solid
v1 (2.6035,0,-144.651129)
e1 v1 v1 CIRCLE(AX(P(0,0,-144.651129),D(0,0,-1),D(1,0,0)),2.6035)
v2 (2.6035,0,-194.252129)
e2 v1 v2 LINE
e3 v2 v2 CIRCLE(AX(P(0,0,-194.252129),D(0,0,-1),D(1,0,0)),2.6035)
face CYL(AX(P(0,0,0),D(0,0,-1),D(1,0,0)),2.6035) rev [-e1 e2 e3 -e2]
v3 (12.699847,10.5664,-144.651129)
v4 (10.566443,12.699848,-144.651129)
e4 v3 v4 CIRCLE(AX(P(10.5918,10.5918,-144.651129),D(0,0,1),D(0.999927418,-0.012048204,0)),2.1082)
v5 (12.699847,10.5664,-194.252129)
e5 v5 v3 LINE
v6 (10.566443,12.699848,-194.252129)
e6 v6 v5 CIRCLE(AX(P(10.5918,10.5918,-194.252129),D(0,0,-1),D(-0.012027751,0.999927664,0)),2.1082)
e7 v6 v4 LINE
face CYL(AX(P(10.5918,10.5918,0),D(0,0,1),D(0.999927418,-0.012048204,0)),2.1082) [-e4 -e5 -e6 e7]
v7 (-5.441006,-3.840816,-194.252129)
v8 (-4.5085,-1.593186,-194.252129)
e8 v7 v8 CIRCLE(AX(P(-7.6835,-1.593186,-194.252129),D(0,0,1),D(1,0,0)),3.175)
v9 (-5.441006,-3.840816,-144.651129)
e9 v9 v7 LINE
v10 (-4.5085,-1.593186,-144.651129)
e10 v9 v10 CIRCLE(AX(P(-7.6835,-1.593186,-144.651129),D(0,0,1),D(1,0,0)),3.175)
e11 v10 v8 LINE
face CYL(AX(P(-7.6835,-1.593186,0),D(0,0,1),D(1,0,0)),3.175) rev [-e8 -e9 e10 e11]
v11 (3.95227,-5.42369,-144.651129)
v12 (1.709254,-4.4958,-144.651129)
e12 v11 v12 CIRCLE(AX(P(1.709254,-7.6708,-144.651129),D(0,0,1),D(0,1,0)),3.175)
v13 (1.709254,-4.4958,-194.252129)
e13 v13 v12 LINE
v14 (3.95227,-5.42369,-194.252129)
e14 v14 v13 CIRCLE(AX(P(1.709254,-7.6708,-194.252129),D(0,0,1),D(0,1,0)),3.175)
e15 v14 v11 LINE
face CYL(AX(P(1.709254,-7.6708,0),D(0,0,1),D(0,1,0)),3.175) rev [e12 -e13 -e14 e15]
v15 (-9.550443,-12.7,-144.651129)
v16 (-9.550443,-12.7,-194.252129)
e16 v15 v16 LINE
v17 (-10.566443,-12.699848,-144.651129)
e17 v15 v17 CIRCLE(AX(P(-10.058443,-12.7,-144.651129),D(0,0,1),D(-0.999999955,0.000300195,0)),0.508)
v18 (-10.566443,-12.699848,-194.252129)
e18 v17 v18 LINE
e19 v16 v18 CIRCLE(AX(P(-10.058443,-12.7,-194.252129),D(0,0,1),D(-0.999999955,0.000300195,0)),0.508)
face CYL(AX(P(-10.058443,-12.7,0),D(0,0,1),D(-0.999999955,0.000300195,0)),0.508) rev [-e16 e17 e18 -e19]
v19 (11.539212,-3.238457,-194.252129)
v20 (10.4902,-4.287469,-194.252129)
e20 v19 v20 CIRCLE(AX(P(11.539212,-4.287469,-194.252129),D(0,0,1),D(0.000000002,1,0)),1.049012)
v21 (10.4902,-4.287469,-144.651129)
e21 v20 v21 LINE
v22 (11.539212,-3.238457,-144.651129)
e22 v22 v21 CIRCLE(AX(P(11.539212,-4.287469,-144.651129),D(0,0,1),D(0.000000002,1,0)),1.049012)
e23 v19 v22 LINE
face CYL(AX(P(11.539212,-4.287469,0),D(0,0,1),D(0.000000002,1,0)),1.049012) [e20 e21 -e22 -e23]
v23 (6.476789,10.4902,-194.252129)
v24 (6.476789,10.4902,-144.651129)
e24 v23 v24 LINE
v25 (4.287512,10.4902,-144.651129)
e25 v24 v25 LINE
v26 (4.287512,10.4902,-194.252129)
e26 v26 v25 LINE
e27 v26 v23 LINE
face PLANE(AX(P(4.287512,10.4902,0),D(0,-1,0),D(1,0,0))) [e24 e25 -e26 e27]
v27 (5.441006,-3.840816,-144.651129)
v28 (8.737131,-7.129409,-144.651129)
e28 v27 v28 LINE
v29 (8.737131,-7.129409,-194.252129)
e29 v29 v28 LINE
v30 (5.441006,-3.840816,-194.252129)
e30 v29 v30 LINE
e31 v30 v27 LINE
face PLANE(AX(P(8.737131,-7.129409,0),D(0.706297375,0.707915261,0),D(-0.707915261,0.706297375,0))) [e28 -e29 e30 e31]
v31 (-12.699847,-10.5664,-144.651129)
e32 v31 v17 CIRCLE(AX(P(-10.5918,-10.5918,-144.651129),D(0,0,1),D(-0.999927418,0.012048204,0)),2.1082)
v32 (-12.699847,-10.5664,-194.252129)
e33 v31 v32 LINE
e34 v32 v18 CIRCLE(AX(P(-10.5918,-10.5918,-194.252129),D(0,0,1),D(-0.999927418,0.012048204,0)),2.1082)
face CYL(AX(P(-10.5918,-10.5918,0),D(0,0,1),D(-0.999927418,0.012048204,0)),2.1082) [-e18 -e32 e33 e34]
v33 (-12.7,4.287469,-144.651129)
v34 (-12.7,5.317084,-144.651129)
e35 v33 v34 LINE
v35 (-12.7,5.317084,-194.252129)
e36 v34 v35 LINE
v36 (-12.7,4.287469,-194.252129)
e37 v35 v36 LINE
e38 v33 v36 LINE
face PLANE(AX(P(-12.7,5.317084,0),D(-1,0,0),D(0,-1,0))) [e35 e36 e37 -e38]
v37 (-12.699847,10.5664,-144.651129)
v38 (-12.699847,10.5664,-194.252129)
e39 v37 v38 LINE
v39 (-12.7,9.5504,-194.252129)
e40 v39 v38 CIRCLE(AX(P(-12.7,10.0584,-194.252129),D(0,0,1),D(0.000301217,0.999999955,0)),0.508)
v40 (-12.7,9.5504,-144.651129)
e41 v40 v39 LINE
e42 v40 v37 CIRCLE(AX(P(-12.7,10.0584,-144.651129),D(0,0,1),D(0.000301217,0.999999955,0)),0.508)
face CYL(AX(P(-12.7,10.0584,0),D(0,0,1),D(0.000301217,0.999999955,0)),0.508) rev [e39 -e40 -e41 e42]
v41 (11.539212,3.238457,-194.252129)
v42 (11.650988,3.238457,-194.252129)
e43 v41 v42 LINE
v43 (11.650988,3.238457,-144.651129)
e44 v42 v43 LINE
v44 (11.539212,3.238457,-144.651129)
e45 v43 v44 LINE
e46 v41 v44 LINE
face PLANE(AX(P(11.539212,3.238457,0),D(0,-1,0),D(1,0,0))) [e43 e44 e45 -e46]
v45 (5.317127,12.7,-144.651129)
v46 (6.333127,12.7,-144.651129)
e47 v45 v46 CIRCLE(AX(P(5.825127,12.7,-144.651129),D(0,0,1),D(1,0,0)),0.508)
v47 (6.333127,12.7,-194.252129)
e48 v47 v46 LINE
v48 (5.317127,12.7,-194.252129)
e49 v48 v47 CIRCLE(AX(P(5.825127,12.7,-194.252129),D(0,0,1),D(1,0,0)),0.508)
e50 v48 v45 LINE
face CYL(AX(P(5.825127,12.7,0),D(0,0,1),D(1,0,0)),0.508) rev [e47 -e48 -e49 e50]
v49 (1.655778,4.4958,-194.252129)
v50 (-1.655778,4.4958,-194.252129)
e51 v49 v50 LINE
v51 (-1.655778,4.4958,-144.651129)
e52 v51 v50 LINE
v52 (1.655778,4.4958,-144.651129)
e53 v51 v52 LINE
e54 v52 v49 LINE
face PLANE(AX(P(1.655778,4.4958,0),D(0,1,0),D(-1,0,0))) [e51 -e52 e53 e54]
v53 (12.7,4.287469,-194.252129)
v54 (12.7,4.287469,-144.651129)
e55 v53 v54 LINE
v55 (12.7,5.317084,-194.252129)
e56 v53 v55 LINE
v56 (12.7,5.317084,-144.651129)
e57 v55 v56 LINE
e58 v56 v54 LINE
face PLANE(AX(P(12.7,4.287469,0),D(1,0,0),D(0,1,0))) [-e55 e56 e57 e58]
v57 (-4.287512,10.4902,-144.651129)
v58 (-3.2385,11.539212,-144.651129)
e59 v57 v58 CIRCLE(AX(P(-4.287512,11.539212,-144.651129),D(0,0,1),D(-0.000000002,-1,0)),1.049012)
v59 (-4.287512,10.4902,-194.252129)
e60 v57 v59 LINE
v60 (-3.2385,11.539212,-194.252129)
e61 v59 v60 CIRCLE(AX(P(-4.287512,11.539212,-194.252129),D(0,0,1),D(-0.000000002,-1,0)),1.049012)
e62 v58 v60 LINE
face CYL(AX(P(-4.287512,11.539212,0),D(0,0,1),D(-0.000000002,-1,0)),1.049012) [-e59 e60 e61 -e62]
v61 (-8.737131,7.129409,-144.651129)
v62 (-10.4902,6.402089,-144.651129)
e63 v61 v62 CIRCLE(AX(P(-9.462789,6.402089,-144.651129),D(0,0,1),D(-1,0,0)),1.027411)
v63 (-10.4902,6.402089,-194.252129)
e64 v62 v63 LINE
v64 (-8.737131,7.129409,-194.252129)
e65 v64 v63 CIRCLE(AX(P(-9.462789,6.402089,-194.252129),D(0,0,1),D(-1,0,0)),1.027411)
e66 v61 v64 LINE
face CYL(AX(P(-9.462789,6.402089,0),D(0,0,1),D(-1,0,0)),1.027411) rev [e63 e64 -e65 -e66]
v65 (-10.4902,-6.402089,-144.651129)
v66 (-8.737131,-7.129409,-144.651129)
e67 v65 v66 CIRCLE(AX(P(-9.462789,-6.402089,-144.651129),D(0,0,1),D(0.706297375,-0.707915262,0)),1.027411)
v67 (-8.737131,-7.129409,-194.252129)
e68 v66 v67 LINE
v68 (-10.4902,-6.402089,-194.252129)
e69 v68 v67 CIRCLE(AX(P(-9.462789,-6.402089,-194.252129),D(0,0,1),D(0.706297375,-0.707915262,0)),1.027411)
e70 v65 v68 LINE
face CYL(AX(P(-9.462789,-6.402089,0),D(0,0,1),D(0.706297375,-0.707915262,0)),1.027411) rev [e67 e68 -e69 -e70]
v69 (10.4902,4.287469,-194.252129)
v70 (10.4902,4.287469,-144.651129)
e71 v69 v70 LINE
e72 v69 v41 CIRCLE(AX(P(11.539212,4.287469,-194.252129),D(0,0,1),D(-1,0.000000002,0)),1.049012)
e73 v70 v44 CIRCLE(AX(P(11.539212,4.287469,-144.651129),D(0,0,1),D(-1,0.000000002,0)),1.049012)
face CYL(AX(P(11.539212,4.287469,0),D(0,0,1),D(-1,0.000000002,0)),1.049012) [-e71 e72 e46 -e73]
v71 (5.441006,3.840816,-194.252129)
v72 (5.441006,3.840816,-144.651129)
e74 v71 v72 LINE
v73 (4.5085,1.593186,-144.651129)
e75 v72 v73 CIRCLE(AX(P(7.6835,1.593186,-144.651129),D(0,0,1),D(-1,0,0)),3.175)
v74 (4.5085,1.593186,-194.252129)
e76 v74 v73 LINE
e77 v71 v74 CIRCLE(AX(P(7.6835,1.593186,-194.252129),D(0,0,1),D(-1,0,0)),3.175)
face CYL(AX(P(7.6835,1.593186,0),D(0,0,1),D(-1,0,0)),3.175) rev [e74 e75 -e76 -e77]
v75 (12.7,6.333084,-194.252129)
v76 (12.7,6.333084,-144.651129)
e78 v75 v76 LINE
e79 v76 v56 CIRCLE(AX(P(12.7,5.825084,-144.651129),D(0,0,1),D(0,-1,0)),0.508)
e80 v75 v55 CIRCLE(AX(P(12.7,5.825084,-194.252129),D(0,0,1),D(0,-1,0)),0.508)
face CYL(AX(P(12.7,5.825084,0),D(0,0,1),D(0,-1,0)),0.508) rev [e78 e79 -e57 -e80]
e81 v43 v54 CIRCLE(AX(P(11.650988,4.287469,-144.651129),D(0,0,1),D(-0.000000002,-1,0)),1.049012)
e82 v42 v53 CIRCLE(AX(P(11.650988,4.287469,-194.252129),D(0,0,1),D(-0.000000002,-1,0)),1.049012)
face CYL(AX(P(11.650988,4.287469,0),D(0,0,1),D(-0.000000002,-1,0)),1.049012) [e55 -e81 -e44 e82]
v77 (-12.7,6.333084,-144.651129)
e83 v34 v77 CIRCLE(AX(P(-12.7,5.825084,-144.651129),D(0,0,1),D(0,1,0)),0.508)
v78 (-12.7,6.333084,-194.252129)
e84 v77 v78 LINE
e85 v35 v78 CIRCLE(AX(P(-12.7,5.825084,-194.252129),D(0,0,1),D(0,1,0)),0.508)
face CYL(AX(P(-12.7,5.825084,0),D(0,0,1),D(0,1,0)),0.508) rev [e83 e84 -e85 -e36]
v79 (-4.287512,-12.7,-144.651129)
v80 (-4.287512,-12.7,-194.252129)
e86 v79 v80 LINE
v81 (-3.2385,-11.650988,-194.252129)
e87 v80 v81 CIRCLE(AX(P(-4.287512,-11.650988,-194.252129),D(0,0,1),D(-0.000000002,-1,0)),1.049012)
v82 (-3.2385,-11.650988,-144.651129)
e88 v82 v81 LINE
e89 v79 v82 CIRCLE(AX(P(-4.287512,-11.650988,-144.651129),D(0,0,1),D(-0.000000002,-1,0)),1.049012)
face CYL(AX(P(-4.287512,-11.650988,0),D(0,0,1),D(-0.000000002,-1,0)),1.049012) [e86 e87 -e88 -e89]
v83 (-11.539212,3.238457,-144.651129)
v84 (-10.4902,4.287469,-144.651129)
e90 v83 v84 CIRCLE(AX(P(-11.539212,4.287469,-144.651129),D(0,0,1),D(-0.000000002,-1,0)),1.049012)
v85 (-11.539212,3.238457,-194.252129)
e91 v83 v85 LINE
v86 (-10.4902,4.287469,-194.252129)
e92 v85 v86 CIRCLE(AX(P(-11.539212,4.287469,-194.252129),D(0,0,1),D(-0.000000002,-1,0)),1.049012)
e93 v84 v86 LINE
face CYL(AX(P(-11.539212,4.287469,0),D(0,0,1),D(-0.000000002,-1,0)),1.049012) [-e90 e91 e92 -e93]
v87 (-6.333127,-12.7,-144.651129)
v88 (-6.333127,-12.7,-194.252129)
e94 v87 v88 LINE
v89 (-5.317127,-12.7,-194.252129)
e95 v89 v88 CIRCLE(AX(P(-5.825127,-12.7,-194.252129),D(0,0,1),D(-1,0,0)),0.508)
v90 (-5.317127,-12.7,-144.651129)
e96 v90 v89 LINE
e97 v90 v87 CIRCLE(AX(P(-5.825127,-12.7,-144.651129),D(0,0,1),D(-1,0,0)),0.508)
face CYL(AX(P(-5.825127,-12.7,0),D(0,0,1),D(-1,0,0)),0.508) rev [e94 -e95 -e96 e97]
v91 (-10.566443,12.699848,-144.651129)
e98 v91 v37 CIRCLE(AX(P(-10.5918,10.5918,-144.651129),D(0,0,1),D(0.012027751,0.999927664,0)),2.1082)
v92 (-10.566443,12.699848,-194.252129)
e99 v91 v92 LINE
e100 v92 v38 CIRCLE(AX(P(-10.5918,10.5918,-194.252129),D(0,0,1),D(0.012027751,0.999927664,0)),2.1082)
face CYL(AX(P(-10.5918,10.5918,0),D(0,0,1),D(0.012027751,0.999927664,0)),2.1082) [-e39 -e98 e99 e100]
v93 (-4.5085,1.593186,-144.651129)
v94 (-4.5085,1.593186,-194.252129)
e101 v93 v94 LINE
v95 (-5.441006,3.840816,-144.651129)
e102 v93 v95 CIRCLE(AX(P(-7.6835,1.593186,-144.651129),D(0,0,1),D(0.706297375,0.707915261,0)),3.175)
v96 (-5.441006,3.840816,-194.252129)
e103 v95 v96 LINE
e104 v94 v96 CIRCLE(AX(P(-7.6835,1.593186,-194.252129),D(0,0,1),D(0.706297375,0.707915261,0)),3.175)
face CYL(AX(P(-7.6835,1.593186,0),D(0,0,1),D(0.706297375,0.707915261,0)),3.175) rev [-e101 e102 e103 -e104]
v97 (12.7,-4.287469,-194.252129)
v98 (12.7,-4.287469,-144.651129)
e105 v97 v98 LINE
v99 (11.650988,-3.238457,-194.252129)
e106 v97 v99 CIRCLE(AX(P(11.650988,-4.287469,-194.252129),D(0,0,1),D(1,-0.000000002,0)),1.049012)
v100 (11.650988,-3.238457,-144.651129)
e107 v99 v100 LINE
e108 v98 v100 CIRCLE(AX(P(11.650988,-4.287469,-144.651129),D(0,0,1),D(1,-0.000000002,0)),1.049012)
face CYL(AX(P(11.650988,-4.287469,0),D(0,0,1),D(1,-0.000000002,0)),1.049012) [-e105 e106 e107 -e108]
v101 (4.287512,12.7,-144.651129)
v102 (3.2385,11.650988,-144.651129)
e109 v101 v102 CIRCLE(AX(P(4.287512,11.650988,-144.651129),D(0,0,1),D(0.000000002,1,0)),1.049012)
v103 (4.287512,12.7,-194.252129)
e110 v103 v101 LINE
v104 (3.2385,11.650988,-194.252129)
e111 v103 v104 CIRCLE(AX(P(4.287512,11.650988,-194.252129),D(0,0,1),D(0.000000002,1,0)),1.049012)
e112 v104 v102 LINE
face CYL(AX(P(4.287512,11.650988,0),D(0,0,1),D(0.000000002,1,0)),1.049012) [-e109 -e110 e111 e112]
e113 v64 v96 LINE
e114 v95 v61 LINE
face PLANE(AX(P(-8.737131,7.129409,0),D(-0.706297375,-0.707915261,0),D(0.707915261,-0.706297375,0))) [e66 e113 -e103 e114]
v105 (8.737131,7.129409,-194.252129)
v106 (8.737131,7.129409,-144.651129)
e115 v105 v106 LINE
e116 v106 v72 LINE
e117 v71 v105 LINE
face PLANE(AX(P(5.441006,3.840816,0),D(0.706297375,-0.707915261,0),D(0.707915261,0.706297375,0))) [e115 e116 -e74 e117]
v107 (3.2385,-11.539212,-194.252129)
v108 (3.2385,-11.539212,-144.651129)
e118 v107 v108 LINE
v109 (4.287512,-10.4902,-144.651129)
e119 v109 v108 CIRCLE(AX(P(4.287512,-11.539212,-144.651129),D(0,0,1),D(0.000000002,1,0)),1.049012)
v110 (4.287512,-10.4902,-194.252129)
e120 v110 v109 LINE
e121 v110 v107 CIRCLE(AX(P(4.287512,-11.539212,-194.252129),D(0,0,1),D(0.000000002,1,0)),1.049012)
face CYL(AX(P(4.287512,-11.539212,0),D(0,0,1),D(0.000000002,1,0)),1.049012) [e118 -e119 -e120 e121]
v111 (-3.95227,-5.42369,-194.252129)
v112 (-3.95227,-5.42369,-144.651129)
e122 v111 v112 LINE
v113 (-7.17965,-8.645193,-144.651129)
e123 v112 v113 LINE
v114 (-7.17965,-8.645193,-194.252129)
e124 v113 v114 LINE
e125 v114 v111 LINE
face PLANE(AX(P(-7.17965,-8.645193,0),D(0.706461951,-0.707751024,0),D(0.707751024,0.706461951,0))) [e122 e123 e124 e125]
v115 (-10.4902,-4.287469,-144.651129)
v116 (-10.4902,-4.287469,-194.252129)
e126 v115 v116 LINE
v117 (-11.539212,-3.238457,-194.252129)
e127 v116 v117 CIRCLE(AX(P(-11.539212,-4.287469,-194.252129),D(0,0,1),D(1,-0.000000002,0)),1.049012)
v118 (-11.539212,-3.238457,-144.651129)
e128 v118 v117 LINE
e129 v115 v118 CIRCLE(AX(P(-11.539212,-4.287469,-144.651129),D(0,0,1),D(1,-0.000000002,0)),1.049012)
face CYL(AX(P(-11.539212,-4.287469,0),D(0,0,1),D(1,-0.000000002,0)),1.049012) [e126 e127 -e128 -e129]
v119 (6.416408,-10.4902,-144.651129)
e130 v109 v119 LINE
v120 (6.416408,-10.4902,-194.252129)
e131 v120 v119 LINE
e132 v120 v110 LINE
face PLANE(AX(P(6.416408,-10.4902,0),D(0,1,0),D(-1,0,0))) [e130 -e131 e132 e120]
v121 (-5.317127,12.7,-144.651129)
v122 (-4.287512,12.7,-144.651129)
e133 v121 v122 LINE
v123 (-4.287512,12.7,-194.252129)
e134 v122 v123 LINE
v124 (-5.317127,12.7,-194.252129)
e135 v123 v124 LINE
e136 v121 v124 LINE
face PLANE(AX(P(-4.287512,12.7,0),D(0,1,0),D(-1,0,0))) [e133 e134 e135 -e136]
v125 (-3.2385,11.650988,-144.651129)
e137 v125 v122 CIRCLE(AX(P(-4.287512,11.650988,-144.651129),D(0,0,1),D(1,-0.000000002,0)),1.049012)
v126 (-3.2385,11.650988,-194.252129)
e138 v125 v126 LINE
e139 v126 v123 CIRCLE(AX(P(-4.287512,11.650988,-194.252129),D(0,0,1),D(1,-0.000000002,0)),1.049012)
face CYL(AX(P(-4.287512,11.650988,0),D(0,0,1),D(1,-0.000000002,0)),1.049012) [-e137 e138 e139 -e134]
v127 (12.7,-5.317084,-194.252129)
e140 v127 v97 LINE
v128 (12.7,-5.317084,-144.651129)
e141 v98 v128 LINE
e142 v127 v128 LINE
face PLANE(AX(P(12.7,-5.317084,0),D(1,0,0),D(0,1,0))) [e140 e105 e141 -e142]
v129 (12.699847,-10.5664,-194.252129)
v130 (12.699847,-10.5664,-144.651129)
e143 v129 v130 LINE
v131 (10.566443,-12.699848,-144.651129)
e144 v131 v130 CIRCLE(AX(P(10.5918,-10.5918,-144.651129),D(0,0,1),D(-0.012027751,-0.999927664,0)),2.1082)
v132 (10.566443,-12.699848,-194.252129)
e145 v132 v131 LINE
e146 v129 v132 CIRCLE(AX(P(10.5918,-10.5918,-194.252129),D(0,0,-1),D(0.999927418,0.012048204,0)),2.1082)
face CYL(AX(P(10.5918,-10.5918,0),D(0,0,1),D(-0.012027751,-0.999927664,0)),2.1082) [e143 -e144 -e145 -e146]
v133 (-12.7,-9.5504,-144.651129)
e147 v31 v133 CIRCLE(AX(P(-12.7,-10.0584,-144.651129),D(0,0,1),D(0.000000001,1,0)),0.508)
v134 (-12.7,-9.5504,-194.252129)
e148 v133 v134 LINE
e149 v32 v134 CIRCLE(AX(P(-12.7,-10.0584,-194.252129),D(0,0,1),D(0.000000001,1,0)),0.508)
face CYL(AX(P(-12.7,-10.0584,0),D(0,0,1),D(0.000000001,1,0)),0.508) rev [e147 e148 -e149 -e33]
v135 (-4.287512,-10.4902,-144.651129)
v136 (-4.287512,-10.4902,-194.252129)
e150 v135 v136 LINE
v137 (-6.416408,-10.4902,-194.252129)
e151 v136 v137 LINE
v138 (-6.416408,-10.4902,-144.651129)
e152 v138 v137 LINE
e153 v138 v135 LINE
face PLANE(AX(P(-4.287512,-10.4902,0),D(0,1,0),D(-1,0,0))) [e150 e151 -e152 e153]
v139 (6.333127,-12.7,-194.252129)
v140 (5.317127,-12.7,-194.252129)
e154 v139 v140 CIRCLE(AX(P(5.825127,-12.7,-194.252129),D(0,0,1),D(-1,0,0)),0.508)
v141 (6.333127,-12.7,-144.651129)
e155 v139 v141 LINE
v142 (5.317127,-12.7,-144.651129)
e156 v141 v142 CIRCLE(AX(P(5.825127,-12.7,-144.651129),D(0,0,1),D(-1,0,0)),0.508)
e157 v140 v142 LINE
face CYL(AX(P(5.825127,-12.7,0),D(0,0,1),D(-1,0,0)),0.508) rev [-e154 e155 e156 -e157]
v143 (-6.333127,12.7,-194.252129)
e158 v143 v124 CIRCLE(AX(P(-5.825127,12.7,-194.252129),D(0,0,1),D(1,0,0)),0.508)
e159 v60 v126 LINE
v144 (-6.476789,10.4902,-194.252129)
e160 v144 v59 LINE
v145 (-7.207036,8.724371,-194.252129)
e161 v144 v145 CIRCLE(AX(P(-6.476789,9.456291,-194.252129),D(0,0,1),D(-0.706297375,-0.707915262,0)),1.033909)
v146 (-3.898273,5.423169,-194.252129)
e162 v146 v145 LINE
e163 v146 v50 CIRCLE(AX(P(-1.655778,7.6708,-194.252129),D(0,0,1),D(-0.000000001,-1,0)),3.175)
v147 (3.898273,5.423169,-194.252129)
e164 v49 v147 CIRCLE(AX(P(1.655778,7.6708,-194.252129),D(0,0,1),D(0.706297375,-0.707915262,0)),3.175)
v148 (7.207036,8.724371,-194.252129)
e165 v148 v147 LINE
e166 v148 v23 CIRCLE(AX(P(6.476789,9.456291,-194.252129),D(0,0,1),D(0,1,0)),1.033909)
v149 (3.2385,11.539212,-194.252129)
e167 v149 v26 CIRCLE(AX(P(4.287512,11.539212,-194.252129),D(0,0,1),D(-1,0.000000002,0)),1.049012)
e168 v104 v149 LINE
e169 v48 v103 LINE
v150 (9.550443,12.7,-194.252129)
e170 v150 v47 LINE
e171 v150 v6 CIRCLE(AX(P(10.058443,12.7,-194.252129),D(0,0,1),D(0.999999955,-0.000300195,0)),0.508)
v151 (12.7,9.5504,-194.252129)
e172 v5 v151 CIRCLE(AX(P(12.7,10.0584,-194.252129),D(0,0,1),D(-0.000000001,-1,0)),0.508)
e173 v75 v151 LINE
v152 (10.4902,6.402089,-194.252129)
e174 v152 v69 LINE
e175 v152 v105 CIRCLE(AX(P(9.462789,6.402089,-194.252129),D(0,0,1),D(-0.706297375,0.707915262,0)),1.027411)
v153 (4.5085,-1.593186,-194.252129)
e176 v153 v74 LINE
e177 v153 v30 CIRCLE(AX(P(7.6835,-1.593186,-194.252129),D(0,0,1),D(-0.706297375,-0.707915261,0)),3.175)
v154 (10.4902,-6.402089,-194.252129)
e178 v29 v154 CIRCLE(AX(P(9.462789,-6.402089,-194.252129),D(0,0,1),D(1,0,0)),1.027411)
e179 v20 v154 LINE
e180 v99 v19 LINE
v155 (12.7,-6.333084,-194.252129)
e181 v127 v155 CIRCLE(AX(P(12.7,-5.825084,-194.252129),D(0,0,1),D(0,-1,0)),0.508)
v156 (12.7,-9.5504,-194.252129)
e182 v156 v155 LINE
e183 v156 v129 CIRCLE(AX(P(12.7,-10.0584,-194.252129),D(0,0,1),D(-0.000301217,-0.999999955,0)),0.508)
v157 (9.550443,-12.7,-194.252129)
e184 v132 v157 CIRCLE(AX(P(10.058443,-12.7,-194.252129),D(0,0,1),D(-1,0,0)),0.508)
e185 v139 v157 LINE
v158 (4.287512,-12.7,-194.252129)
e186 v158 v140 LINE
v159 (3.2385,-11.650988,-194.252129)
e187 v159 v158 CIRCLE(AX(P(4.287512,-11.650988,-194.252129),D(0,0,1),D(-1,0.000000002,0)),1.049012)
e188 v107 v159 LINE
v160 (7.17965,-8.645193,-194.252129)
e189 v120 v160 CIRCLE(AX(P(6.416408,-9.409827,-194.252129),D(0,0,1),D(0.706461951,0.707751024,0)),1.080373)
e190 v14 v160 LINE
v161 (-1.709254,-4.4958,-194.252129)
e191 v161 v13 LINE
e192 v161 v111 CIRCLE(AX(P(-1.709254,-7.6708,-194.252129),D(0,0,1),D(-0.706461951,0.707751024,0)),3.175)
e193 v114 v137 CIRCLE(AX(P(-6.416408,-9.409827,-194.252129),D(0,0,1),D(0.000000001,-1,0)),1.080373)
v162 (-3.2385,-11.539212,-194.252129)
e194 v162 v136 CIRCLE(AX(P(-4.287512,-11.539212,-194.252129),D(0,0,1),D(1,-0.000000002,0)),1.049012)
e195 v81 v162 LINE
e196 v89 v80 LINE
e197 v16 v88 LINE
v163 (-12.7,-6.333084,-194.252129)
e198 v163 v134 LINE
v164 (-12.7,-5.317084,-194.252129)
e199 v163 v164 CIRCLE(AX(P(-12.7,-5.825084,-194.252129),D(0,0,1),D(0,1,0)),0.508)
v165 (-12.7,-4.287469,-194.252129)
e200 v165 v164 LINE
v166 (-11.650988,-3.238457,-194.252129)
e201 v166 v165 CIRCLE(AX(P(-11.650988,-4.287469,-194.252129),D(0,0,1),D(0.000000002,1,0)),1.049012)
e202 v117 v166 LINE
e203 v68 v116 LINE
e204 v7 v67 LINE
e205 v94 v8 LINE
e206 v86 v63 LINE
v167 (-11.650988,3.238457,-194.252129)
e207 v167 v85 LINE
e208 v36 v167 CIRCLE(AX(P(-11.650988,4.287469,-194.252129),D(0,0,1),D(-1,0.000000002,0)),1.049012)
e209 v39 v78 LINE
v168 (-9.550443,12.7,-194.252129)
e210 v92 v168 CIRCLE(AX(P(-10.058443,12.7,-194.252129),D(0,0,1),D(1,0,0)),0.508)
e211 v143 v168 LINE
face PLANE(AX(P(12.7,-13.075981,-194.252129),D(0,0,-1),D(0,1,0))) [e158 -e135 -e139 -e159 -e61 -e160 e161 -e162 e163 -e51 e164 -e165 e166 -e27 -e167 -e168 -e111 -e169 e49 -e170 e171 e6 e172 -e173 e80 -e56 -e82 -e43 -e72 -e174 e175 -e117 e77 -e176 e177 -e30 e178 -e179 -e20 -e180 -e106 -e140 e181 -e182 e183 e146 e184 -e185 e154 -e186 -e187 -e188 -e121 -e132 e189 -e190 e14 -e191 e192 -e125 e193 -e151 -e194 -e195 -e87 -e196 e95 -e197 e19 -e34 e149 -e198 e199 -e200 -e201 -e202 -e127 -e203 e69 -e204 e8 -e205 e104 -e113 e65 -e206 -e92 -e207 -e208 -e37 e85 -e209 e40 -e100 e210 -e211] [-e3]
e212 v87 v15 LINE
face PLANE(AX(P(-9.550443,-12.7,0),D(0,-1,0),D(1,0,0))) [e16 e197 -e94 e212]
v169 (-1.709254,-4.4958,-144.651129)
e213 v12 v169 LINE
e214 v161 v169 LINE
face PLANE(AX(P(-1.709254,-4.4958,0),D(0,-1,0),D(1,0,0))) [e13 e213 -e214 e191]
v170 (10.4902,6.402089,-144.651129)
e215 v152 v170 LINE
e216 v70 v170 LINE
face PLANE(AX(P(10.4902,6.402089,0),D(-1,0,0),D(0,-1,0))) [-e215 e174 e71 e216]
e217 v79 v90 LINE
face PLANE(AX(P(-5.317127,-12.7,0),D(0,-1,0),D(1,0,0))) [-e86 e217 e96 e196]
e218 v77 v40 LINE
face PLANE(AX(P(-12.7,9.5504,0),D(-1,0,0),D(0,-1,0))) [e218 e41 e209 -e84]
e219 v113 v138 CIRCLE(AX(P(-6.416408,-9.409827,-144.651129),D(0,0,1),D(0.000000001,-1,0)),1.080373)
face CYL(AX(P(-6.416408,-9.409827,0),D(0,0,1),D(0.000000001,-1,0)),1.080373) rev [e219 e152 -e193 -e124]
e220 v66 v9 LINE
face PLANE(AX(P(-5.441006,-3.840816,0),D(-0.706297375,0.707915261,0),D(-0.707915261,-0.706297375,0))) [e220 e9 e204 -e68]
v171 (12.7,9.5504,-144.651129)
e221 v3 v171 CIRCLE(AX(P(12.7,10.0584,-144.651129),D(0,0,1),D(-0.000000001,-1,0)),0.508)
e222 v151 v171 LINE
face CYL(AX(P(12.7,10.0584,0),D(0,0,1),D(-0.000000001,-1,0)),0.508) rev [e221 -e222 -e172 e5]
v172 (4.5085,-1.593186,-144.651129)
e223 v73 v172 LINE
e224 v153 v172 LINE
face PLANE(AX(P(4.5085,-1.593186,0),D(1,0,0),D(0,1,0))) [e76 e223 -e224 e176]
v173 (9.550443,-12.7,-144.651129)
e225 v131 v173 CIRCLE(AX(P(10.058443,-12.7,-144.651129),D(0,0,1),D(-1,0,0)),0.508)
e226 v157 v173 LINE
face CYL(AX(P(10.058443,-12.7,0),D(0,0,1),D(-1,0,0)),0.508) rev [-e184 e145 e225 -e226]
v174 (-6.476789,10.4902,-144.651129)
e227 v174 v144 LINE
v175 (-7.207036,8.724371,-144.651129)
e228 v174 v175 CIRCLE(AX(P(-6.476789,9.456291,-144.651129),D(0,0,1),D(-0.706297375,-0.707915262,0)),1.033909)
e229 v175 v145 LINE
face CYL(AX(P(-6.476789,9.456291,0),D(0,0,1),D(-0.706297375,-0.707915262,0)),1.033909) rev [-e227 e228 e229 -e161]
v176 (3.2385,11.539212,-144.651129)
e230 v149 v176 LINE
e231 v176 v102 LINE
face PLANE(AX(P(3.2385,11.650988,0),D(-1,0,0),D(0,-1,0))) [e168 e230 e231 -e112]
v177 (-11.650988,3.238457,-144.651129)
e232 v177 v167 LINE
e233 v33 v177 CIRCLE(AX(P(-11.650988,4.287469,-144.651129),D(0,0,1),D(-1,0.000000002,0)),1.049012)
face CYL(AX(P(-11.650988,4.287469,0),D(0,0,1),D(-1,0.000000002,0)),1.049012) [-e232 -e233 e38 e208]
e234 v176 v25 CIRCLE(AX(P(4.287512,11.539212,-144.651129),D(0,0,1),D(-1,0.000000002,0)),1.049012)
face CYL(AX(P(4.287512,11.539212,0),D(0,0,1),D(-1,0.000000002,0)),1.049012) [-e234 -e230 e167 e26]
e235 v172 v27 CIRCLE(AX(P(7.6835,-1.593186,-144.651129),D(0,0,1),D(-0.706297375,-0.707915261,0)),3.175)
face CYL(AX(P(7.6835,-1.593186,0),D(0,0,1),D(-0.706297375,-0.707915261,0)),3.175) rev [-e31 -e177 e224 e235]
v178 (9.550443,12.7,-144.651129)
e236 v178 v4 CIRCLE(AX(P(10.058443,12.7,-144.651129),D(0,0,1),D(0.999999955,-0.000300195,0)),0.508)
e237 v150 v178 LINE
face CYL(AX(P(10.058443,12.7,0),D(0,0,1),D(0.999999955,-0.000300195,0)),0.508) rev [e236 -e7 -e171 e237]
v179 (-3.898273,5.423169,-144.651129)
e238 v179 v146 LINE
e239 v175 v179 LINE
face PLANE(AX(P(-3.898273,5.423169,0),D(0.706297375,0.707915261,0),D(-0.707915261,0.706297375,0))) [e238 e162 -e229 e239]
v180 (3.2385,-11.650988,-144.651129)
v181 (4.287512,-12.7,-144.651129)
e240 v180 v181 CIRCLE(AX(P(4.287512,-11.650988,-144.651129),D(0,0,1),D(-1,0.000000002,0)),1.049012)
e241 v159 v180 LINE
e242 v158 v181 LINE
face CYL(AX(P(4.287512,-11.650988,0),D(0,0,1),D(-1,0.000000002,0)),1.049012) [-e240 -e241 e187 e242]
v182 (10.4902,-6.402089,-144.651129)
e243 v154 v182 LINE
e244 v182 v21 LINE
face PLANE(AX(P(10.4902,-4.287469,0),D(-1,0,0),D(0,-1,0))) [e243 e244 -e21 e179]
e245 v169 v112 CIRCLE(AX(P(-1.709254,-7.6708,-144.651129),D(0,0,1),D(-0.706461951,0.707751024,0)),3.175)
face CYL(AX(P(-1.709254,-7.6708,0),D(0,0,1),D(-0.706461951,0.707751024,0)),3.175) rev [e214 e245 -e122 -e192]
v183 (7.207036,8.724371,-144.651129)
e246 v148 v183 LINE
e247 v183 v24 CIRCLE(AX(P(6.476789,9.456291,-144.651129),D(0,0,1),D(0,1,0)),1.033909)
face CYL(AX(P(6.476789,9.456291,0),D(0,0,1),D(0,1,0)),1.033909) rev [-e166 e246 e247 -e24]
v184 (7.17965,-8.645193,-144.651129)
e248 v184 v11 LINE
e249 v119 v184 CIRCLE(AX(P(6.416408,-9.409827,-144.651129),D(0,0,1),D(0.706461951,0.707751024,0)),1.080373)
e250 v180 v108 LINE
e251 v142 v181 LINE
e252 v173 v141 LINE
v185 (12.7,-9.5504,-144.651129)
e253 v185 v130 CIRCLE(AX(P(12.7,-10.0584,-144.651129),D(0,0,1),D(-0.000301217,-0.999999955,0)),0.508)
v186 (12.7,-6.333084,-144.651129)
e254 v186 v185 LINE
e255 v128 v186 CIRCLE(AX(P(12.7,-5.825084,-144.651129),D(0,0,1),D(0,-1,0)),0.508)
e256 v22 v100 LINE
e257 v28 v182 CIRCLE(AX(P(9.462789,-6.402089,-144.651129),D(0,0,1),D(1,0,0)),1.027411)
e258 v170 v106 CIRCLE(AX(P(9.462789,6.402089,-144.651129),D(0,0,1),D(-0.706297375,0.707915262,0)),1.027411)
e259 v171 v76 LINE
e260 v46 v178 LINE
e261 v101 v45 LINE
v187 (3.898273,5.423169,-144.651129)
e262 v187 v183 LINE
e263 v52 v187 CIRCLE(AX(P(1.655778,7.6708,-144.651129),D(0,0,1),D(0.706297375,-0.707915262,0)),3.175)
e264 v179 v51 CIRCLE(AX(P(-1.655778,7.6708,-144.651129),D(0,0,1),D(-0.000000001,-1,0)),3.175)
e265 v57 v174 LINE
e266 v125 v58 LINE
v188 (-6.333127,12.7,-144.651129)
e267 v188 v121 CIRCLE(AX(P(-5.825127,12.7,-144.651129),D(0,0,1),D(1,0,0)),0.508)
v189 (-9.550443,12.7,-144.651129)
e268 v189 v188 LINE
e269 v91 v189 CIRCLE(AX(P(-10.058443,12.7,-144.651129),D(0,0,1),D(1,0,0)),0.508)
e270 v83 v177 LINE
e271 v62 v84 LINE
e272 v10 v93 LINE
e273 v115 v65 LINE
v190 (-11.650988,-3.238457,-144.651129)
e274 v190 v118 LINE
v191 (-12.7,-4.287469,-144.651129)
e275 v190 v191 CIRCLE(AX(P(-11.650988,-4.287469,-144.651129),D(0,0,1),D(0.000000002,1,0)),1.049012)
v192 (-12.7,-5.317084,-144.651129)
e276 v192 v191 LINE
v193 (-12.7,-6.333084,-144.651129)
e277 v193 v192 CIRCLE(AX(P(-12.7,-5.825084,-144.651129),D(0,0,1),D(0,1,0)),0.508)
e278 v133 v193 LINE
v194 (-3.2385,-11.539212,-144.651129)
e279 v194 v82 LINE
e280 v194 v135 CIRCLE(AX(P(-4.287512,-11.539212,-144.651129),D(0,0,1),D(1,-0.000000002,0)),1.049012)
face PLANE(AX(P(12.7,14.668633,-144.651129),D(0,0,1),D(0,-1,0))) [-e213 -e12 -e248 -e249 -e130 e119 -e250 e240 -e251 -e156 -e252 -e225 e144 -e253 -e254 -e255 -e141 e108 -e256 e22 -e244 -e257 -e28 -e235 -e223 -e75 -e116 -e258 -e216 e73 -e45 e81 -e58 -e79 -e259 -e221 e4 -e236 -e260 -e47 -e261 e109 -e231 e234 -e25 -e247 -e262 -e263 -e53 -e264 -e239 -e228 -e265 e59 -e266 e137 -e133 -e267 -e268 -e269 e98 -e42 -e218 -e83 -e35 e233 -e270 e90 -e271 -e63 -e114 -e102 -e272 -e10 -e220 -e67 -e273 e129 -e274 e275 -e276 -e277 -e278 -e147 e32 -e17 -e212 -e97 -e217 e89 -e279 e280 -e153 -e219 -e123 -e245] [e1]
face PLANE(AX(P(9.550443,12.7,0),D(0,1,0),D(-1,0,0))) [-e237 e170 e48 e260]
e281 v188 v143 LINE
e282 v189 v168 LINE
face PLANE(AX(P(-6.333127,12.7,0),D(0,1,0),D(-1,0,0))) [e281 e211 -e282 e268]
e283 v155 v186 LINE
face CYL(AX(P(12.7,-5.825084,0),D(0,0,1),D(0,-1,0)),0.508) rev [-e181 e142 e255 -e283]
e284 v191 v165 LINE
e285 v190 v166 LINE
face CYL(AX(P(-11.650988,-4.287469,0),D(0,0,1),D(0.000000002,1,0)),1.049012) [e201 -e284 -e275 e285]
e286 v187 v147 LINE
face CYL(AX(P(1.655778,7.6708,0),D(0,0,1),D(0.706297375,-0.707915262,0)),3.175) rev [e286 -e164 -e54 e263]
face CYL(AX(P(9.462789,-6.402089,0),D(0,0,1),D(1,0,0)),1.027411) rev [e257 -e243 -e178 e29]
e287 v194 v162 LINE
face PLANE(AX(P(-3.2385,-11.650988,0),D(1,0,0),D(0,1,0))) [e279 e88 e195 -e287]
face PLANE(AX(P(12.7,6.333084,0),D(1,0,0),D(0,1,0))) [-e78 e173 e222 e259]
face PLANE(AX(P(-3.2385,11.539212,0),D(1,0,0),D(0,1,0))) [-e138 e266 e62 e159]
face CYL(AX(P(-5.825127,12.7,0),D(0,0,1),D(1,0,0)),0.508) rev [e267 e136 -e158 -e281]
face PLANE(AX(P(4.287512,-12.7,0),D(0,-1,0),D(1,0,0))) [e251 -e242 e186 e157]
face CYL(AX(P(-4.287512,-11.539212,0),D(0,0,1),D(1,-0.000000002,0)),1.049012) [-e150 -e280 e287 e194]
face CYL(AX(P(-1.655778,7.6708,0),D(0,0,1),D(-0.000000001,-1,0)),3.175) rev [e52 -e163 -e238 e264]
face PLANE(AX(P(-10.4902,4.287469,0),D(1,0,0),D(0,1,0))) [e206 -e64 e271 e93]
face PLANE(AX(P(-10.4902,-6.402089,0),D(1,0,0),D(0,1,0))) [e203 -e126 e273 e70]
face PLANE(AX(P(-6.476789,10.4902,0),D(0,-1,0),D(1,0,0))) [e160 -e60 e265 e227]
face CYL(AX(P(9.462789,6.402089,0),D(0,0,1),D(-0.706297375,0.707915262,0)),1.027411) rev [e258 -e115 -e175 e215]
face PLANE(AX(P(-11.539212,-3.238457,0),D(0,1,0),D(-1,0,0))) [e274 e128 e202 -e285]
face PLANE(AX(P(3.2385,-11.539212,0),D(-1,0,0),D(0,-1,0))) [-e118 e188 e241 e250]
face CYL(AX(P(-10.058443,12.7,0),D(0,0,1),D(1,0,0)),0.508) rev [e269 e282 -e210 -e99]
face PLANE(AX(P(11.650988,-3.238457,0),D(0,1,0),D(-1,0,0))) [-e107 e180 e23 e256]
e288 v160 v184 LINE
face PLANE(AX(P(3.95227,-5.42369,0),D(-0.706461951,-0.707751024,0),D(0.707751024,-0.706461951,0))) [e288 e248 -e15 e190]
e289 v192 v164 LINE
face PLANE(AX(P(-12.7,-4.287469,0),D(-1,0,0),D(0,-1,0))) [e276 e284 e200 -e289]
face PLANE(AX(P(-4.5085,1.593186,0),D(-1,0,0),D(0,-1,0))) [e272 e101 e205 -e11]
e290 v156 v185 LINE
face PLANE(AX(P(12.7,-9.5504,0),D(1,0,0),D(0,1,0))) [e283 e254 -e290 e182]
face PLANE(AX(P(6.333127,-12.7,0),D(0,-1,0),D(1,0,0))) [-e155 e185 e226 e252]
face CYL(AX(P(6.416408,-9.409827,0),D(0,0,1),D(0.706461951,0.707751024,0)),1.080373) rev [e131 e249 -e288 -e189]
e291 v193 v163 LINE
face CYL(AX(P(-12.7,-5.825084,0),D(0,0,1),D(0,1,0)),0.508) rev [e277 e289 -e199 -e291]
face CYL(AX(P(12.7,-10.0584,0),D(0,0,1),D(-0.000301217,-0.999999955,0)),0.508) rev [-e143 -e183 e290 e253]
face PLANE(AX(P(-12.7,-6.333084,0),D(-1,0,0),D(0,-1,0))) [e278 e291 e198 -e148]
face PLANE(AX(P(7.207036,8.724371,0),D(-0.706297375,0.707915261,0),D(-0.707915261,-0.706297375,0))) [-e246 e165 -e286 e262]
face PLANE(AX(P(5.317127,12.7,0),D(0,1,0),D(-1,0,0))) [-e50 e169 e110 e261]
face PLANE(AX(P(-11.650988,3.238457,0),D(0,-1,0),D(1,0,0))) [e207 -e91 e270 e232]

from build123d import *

# Parameters (mm, degrees)
SKETCH1_R               = 2.6035
BOSS_EXTRUDE1_DEPTH     = 457.2
CUT_EXTRUDE2_DEPTH      = 4.318
CUT_EXTRUDE2_DEPTH_BACK = 26.924
SKETCH4_W               = 10.066529056
SKETCH4_H               = 26.230878965
CUT_EXTRUDE3_DEPTH      = 26.4


with BuildPart() as part:
    # Sketch1 → Boss-Extrude1 (new body, symmetric)
    with BuildSketch(Plane.XY):
        with BuildLine():
            Line((-7.179650497, -8.645192506), (-3.952270251, -5.423690499))
            ThreePointArc((-3.952270251, -5.423690499), (-2.922936451, -4.736929036), (-1.709253557, -4.4958))
            Line((-1.709253557, -4.4958), (1.709253557, -4.4958))
            ThreePointArc((1.709253557, -4.4958), (2.922936451, -4.736929036), (3.952270251, -5.423690499))
            Line((3.952270251, -5.423690499), (7.179650497, -8.645192506))
            ThreePointArc((7.179650497, -8.645192506), (7.41473083, -9.822813117), (6.416408329, -10.4902))
            Line((6.416408329, -10.4902), (4.287512407, -10.4902))
            ThreePointArc((4.287512407, -10.4902), (3.54574862, -10.79744862), (3.2385, -11.539212407))
            Line((3.2385, -11.539212407), (3.2385, -11.650987593))
            ThreePointArc((3.2385, -11.650987593), (3.54574862, -12.39275138), (4.287512407, -12.7))
            Line((4.287512407, -12.7), (5.317126718, -12.7))
            ThreePointArc((5.317126718, -12.7), (5.825126718, -12.192), (6.333126718, -12.7))
            Line((6.333126718, -12.7), (9.550443118, -12.7))
            ThreePointArc((9.550443118, -12.7), (10.058366869, -12.192000006), (10.566443095, -12.699847501))
            ThreePointArc((10.566443095, -12.699847501), (12.082537762, -12.08250727), (12.699846982, -10.566399977))
            ThreePointArc((12.699846982, -10.566399977), (12.192000006, -10.058323491), (12.7, -9.5504))
            Line((12.7, -9.5504), (12.7, -6.3330836))
            ThreePointArc((12.7, -6.3330836), (12.192, -5.8250836), (12.7, -5.3170836))
            Line((12.7, -5.3170836), (12.7, -4.287469289))
            ThreePointArc((12.7, -4.287469289), (12.39275138, -3.545705502), (11.650987593, -3.238456882))
            Line((11.650987593, -3.238456882), (11.539212407, -3.238456882))
            ThreePointArc((11.539212407, -3.238456882), (10.79744862, -3.545705502), (10.4902, -4.287469289))
            Line((10.4902, -4.287469289), (10.4902, -6.402089023))
            ThreePointArc((10.4902, -6.402089023), (9.856505071, -7.351067942), (8.737131347, -7.129408934))
            Line((8.737131347, -7.129408934), (5.441005833, -3.840816462))
            ThreePointArc((5.441005833, -3.840816462), (4.750877967, -2.809883091), (4.5085, -1.593185507))
            Line((4.5085, -1.593185507), (4.5085, 1.593185507))
            ThreePointArc((4.5085, 1.593185507), (4.750877967, 2.809883091), (5.441005833, 3.840816462))
            Line((5.441005833, 3.840816462), (8.737131347, 7.129408934))
            ThreePointArc((8.737131347, 7.129408934), (9.856505071, 7.351067942), (10.4902, 6.402089023))
            Line((10.4902, 6.402089023), (10.4902, 4.287469289))
            ThreePointArc((10.4902, 4.287469289), (10.79744862, 3.545705502), (11.539212407, 3.238456882))
            Line((11.539212407, 3.238456882), (11.650987593, 3.238456882))
            ThreePointArc((11.650987593, 3.238456882), (12.39275138, 3.545705502), (12.7, 4.287469289))
            Line((12.7, 4.287469289), (12.7, 5.3170836))
            ThreePointArc((12.7, 5.3170836), (12.192, 5.8250836), (12.7, 6.3330836))
            Line((12.7, 6.3330836), (12.7, 9.5504))
            ThreePointArc((12.7, 9.5504), (12.192000006, 10.058323491), (12.699846982, 10.566399977))
            ThreePointArc((12.699846982, 10.566399977), (12.082537762, 12.08250727), (10.566443095, 12.699847501))
            ThreePointArc((10.566443095, 12.699847501), (10.058366869, 12.192000006), (9.550443118, 12.7))
            Line((9.550443118, 12.7), (6.333126718, 12.7))
            ThreePointArc((6.333126718, 12.7), (5.825126718, 12.192), (5.317126718, 12.7))
            Line((5.317126718, 12.7), (4.287512407, 12.7))
            ThreePointArc((4.287512407, 12.7), (3.54574862, 12.39275138), (3.2385, 11.650987593))
            Line((3.2385, 11.650987593), (3.2385, 11.539212407))
            ThreePointArc((3.2385, 11.539212407), (3.54574862, 10.79744862), (4.287512407, 10.4902))
            Line((4.287512407, 10.4902), (6.476788598, 10.4902))
            ThreePointArc((6.476788598, 10.4902), (7.432222385, 9.85140422), (7.207036008, 8.724370562))
            Line((7.207036008, 8.724370562), (3.898272566, 5.423169045))
            ThreePointArc((3.898272566, 5.423169045), (2.869120213, 4.736787962), (1.655778399, 4.4958))
            Line((1.655778399, 4.4958), (-1.655778399, 4.4958))
            ThreePointArc((-1.655778399, 4.4958), (-2.869120213, 4.736787962), (-3.898272566, 5.423169045))
            Line((-3.898272566, 5.423169045), (-7.207036008, 8.724370562))
            ThreePointArc((-7.207036008, 8.724370562), (-7.432222385, 9.85140422), (-6.476788598, 10.4902))
            Line((-6.476788598, 10.4902), (-4.287512407, 10.4902))
            ThreePointArc((-4.287512407, 10.4902), (-3.54574862, 10.79744862), (-3.2385, 11.539212407))
            Line((-3.2385, 11.539212407), (-3.2385, 11.650987593))
            ThreePointArc((-3.2385, 11.650987593), (-3.54574862, 12.39275138), (-4.287512407, 12.7))
            Line((-4.287512407, 12.7), (-5.317126718, 12.7))
            ThreePointArc((-5.317126718, 12.7), (-5.825126718, 12.192), (-6.333126718, 12.7))
            Line((-6.333126718, 12.7), (-9.550443118, 12.7))
            ThreePointArc((-9.550443118, 12.7), (-10.058366869, 12.192000006), (-10.566443095, 12.699847501))
            ThreePointArc((-10.566443095, 12.699847501), (-12.082537762, 12.08250727), (-12.699846982, 10.566399977))
            ThreePointArc((-12.699846982, 10.566399977), (-12.192000006, 10.058323491), (-12.7, 9.5504))
            Line((-12.7, 9.5504), (-12.7, 6.3330836))
            ThreePointArc((-12.7, 6.3330836), (-12.192, 5.8250836), (-12.7, 5.3170836))
            Line((-12.7, 5.3170836), (-12.7, 4.287469289))
            ThreePointArc((-12.7, 4.287469289), (-12.39275138, 3.545705502), (-11.650987593, 3.238456882))
            Line((-11.650987593, 3.238456882), (-11.539212407, 3.238456882))
            ThreePointArc((-11.539212407, 3.238456882), (-10.79744862, 3.545705502), (-10.4902, 4.287469289))
            Line((-10.4902, 4.287469289), (-10.4902, 6.402089023))
            ThreePointArc((-10.4902, 6.402089023), (-9.856505071, 7.351067942), (-8.737131347, 7.129408934))
            Line((-8.737131347, 7.129408934), (-5.441005833, 3.840816462))
            ThreePointArc((-5.441005833, 3.840816462), (-4.750877967, 2.809883091), (-4.5085, 1.593185507))
            Line((-4.5085, 1.593185507), (-4.5085, -1.593185507))
            ThreePointArc((-4.5085, -1.593185507), (-4.750877967, -2.809883091), (-5.441005833, -3.840816462))
            Line((-5.441005833, -3.840816462), (-8.737131347, -7.129408934))
            ThreePointArc((-8.737131347, -7.129408934), (-9.856505071, -7.351067942), (-10.4902, -6.402089023))
            Line((-10.4902, -6.402089023), (-10.4902, -4.287469289))
            ThreePointArc((-10.4902, -4.287469289), (-10.79744862, -3.545705502), (-11.539212407, -3.238456882))
            Line((-11.539212407, -3.238456882), (-11.650987593, -3.238456882))
            ThreePointArc((-11.650987593, -3.238456882), (-12.39275138, -3.545705502), (-12.7, -4.287469289))
            Line((-12.7, -4.287469289), (-12.7, -5.3170836))
            ThreePointArc((-12.7, -5.3170836), (-12.192, -5.8250836), (-12.7, -6.3330836))
            Line((-12.7, -6.3330836), (-12.7, -9.5504))
            ThreePointArc((-12.7, -9.5504), (-12.192000006, -10.058323491), (-12.699846982, -10.566399977))
            ThreePointArc((-12.699846982, -10.566399977), (-12.082537762, -12.08250727), (-10.566443095, -12.699847501))
            ThreePointArc((-10.566443095, -12.699847501), (-10.058366869, -12.192000006), (-9.550443118, -12.7))
            Line((-9.550443118, -12.7), (-6.333126718, -12.7))
            ThreePointArc((-6.333126718, -12.7), (-5.825126718, -12.192), (-5.317126718, -12.7))
            Line((-5.317126718, -12.7), (-4.287512407, -12.7))
            ThreePointArc((-4.287512407, -12.7), (-3.54574862, -12.39275138), (-3.2385, -11.650987593))
            Line((-3.2385, -11.650987593), (-3.2385, -11.539212407))
            ThreePointArc((-3.2385, -11.539212407), (-3.54574862, -10.79744862), (-4.287512407, -10.4902))
            Line((-4.287512407, -10.4902), (-6.416408329, -10.4902))
            ThreePointArc((-6.416408329, -10.4902), (-7.41473083, -9.822813117), (-7.179650497, -8.645192506))
        make_face()
        Circle(SKETCH1_R, mode=Mode.SUBTRACT)
    extrude(amount=BOSS_EXTRUDE1_DEPTH, both=True)

    # Sketch3 → Cut-Extrude2 (cut, two sides)
    with BuildSketch(Plane.ZY.offset(12.7)) as cut_extrude2_sk:
        Polygon((-203.2, -27.552777595), (-203.2, 21.158109763), (-461.090893327, 21.158109763), (-461.090893327, -25.4), align=None)
    extrude(amount=CUT_EXTRUDE2_DEPTH, mode=Mode.SUBTRACT)
    extrude(cut_extrude2_sk.sketch, amount=-CUT_EXTRUDE2_DEPTH_BACK, mode=Mode.SUBTRACT)

    # Sketch4 → Cut-Extrude3 (cut, through all)
    with BuildSketch(Plane(origin=(12.7, 0, 0), x_dir=(0, 0, -1), z_dir=(1, 0, 0))):
        Polygon((144.651128895, 14.668633048), (144.651128895, -33.454509464), (-421.914129737, -33.454509464), (-459.790894846, -33.454509464), (-459.790894846, 14.668633048), (-421.914129737, 14.668633048), align=None)
        with Locations((199.285393072, 0.039458439)):
            Rectangle(SKETCH4_W, SKETCH4_H)
    extrude(amount=-CUT_EXTRUDE3_DEPTH, mode=Mode.SUBTRACT)


solid = part.part
